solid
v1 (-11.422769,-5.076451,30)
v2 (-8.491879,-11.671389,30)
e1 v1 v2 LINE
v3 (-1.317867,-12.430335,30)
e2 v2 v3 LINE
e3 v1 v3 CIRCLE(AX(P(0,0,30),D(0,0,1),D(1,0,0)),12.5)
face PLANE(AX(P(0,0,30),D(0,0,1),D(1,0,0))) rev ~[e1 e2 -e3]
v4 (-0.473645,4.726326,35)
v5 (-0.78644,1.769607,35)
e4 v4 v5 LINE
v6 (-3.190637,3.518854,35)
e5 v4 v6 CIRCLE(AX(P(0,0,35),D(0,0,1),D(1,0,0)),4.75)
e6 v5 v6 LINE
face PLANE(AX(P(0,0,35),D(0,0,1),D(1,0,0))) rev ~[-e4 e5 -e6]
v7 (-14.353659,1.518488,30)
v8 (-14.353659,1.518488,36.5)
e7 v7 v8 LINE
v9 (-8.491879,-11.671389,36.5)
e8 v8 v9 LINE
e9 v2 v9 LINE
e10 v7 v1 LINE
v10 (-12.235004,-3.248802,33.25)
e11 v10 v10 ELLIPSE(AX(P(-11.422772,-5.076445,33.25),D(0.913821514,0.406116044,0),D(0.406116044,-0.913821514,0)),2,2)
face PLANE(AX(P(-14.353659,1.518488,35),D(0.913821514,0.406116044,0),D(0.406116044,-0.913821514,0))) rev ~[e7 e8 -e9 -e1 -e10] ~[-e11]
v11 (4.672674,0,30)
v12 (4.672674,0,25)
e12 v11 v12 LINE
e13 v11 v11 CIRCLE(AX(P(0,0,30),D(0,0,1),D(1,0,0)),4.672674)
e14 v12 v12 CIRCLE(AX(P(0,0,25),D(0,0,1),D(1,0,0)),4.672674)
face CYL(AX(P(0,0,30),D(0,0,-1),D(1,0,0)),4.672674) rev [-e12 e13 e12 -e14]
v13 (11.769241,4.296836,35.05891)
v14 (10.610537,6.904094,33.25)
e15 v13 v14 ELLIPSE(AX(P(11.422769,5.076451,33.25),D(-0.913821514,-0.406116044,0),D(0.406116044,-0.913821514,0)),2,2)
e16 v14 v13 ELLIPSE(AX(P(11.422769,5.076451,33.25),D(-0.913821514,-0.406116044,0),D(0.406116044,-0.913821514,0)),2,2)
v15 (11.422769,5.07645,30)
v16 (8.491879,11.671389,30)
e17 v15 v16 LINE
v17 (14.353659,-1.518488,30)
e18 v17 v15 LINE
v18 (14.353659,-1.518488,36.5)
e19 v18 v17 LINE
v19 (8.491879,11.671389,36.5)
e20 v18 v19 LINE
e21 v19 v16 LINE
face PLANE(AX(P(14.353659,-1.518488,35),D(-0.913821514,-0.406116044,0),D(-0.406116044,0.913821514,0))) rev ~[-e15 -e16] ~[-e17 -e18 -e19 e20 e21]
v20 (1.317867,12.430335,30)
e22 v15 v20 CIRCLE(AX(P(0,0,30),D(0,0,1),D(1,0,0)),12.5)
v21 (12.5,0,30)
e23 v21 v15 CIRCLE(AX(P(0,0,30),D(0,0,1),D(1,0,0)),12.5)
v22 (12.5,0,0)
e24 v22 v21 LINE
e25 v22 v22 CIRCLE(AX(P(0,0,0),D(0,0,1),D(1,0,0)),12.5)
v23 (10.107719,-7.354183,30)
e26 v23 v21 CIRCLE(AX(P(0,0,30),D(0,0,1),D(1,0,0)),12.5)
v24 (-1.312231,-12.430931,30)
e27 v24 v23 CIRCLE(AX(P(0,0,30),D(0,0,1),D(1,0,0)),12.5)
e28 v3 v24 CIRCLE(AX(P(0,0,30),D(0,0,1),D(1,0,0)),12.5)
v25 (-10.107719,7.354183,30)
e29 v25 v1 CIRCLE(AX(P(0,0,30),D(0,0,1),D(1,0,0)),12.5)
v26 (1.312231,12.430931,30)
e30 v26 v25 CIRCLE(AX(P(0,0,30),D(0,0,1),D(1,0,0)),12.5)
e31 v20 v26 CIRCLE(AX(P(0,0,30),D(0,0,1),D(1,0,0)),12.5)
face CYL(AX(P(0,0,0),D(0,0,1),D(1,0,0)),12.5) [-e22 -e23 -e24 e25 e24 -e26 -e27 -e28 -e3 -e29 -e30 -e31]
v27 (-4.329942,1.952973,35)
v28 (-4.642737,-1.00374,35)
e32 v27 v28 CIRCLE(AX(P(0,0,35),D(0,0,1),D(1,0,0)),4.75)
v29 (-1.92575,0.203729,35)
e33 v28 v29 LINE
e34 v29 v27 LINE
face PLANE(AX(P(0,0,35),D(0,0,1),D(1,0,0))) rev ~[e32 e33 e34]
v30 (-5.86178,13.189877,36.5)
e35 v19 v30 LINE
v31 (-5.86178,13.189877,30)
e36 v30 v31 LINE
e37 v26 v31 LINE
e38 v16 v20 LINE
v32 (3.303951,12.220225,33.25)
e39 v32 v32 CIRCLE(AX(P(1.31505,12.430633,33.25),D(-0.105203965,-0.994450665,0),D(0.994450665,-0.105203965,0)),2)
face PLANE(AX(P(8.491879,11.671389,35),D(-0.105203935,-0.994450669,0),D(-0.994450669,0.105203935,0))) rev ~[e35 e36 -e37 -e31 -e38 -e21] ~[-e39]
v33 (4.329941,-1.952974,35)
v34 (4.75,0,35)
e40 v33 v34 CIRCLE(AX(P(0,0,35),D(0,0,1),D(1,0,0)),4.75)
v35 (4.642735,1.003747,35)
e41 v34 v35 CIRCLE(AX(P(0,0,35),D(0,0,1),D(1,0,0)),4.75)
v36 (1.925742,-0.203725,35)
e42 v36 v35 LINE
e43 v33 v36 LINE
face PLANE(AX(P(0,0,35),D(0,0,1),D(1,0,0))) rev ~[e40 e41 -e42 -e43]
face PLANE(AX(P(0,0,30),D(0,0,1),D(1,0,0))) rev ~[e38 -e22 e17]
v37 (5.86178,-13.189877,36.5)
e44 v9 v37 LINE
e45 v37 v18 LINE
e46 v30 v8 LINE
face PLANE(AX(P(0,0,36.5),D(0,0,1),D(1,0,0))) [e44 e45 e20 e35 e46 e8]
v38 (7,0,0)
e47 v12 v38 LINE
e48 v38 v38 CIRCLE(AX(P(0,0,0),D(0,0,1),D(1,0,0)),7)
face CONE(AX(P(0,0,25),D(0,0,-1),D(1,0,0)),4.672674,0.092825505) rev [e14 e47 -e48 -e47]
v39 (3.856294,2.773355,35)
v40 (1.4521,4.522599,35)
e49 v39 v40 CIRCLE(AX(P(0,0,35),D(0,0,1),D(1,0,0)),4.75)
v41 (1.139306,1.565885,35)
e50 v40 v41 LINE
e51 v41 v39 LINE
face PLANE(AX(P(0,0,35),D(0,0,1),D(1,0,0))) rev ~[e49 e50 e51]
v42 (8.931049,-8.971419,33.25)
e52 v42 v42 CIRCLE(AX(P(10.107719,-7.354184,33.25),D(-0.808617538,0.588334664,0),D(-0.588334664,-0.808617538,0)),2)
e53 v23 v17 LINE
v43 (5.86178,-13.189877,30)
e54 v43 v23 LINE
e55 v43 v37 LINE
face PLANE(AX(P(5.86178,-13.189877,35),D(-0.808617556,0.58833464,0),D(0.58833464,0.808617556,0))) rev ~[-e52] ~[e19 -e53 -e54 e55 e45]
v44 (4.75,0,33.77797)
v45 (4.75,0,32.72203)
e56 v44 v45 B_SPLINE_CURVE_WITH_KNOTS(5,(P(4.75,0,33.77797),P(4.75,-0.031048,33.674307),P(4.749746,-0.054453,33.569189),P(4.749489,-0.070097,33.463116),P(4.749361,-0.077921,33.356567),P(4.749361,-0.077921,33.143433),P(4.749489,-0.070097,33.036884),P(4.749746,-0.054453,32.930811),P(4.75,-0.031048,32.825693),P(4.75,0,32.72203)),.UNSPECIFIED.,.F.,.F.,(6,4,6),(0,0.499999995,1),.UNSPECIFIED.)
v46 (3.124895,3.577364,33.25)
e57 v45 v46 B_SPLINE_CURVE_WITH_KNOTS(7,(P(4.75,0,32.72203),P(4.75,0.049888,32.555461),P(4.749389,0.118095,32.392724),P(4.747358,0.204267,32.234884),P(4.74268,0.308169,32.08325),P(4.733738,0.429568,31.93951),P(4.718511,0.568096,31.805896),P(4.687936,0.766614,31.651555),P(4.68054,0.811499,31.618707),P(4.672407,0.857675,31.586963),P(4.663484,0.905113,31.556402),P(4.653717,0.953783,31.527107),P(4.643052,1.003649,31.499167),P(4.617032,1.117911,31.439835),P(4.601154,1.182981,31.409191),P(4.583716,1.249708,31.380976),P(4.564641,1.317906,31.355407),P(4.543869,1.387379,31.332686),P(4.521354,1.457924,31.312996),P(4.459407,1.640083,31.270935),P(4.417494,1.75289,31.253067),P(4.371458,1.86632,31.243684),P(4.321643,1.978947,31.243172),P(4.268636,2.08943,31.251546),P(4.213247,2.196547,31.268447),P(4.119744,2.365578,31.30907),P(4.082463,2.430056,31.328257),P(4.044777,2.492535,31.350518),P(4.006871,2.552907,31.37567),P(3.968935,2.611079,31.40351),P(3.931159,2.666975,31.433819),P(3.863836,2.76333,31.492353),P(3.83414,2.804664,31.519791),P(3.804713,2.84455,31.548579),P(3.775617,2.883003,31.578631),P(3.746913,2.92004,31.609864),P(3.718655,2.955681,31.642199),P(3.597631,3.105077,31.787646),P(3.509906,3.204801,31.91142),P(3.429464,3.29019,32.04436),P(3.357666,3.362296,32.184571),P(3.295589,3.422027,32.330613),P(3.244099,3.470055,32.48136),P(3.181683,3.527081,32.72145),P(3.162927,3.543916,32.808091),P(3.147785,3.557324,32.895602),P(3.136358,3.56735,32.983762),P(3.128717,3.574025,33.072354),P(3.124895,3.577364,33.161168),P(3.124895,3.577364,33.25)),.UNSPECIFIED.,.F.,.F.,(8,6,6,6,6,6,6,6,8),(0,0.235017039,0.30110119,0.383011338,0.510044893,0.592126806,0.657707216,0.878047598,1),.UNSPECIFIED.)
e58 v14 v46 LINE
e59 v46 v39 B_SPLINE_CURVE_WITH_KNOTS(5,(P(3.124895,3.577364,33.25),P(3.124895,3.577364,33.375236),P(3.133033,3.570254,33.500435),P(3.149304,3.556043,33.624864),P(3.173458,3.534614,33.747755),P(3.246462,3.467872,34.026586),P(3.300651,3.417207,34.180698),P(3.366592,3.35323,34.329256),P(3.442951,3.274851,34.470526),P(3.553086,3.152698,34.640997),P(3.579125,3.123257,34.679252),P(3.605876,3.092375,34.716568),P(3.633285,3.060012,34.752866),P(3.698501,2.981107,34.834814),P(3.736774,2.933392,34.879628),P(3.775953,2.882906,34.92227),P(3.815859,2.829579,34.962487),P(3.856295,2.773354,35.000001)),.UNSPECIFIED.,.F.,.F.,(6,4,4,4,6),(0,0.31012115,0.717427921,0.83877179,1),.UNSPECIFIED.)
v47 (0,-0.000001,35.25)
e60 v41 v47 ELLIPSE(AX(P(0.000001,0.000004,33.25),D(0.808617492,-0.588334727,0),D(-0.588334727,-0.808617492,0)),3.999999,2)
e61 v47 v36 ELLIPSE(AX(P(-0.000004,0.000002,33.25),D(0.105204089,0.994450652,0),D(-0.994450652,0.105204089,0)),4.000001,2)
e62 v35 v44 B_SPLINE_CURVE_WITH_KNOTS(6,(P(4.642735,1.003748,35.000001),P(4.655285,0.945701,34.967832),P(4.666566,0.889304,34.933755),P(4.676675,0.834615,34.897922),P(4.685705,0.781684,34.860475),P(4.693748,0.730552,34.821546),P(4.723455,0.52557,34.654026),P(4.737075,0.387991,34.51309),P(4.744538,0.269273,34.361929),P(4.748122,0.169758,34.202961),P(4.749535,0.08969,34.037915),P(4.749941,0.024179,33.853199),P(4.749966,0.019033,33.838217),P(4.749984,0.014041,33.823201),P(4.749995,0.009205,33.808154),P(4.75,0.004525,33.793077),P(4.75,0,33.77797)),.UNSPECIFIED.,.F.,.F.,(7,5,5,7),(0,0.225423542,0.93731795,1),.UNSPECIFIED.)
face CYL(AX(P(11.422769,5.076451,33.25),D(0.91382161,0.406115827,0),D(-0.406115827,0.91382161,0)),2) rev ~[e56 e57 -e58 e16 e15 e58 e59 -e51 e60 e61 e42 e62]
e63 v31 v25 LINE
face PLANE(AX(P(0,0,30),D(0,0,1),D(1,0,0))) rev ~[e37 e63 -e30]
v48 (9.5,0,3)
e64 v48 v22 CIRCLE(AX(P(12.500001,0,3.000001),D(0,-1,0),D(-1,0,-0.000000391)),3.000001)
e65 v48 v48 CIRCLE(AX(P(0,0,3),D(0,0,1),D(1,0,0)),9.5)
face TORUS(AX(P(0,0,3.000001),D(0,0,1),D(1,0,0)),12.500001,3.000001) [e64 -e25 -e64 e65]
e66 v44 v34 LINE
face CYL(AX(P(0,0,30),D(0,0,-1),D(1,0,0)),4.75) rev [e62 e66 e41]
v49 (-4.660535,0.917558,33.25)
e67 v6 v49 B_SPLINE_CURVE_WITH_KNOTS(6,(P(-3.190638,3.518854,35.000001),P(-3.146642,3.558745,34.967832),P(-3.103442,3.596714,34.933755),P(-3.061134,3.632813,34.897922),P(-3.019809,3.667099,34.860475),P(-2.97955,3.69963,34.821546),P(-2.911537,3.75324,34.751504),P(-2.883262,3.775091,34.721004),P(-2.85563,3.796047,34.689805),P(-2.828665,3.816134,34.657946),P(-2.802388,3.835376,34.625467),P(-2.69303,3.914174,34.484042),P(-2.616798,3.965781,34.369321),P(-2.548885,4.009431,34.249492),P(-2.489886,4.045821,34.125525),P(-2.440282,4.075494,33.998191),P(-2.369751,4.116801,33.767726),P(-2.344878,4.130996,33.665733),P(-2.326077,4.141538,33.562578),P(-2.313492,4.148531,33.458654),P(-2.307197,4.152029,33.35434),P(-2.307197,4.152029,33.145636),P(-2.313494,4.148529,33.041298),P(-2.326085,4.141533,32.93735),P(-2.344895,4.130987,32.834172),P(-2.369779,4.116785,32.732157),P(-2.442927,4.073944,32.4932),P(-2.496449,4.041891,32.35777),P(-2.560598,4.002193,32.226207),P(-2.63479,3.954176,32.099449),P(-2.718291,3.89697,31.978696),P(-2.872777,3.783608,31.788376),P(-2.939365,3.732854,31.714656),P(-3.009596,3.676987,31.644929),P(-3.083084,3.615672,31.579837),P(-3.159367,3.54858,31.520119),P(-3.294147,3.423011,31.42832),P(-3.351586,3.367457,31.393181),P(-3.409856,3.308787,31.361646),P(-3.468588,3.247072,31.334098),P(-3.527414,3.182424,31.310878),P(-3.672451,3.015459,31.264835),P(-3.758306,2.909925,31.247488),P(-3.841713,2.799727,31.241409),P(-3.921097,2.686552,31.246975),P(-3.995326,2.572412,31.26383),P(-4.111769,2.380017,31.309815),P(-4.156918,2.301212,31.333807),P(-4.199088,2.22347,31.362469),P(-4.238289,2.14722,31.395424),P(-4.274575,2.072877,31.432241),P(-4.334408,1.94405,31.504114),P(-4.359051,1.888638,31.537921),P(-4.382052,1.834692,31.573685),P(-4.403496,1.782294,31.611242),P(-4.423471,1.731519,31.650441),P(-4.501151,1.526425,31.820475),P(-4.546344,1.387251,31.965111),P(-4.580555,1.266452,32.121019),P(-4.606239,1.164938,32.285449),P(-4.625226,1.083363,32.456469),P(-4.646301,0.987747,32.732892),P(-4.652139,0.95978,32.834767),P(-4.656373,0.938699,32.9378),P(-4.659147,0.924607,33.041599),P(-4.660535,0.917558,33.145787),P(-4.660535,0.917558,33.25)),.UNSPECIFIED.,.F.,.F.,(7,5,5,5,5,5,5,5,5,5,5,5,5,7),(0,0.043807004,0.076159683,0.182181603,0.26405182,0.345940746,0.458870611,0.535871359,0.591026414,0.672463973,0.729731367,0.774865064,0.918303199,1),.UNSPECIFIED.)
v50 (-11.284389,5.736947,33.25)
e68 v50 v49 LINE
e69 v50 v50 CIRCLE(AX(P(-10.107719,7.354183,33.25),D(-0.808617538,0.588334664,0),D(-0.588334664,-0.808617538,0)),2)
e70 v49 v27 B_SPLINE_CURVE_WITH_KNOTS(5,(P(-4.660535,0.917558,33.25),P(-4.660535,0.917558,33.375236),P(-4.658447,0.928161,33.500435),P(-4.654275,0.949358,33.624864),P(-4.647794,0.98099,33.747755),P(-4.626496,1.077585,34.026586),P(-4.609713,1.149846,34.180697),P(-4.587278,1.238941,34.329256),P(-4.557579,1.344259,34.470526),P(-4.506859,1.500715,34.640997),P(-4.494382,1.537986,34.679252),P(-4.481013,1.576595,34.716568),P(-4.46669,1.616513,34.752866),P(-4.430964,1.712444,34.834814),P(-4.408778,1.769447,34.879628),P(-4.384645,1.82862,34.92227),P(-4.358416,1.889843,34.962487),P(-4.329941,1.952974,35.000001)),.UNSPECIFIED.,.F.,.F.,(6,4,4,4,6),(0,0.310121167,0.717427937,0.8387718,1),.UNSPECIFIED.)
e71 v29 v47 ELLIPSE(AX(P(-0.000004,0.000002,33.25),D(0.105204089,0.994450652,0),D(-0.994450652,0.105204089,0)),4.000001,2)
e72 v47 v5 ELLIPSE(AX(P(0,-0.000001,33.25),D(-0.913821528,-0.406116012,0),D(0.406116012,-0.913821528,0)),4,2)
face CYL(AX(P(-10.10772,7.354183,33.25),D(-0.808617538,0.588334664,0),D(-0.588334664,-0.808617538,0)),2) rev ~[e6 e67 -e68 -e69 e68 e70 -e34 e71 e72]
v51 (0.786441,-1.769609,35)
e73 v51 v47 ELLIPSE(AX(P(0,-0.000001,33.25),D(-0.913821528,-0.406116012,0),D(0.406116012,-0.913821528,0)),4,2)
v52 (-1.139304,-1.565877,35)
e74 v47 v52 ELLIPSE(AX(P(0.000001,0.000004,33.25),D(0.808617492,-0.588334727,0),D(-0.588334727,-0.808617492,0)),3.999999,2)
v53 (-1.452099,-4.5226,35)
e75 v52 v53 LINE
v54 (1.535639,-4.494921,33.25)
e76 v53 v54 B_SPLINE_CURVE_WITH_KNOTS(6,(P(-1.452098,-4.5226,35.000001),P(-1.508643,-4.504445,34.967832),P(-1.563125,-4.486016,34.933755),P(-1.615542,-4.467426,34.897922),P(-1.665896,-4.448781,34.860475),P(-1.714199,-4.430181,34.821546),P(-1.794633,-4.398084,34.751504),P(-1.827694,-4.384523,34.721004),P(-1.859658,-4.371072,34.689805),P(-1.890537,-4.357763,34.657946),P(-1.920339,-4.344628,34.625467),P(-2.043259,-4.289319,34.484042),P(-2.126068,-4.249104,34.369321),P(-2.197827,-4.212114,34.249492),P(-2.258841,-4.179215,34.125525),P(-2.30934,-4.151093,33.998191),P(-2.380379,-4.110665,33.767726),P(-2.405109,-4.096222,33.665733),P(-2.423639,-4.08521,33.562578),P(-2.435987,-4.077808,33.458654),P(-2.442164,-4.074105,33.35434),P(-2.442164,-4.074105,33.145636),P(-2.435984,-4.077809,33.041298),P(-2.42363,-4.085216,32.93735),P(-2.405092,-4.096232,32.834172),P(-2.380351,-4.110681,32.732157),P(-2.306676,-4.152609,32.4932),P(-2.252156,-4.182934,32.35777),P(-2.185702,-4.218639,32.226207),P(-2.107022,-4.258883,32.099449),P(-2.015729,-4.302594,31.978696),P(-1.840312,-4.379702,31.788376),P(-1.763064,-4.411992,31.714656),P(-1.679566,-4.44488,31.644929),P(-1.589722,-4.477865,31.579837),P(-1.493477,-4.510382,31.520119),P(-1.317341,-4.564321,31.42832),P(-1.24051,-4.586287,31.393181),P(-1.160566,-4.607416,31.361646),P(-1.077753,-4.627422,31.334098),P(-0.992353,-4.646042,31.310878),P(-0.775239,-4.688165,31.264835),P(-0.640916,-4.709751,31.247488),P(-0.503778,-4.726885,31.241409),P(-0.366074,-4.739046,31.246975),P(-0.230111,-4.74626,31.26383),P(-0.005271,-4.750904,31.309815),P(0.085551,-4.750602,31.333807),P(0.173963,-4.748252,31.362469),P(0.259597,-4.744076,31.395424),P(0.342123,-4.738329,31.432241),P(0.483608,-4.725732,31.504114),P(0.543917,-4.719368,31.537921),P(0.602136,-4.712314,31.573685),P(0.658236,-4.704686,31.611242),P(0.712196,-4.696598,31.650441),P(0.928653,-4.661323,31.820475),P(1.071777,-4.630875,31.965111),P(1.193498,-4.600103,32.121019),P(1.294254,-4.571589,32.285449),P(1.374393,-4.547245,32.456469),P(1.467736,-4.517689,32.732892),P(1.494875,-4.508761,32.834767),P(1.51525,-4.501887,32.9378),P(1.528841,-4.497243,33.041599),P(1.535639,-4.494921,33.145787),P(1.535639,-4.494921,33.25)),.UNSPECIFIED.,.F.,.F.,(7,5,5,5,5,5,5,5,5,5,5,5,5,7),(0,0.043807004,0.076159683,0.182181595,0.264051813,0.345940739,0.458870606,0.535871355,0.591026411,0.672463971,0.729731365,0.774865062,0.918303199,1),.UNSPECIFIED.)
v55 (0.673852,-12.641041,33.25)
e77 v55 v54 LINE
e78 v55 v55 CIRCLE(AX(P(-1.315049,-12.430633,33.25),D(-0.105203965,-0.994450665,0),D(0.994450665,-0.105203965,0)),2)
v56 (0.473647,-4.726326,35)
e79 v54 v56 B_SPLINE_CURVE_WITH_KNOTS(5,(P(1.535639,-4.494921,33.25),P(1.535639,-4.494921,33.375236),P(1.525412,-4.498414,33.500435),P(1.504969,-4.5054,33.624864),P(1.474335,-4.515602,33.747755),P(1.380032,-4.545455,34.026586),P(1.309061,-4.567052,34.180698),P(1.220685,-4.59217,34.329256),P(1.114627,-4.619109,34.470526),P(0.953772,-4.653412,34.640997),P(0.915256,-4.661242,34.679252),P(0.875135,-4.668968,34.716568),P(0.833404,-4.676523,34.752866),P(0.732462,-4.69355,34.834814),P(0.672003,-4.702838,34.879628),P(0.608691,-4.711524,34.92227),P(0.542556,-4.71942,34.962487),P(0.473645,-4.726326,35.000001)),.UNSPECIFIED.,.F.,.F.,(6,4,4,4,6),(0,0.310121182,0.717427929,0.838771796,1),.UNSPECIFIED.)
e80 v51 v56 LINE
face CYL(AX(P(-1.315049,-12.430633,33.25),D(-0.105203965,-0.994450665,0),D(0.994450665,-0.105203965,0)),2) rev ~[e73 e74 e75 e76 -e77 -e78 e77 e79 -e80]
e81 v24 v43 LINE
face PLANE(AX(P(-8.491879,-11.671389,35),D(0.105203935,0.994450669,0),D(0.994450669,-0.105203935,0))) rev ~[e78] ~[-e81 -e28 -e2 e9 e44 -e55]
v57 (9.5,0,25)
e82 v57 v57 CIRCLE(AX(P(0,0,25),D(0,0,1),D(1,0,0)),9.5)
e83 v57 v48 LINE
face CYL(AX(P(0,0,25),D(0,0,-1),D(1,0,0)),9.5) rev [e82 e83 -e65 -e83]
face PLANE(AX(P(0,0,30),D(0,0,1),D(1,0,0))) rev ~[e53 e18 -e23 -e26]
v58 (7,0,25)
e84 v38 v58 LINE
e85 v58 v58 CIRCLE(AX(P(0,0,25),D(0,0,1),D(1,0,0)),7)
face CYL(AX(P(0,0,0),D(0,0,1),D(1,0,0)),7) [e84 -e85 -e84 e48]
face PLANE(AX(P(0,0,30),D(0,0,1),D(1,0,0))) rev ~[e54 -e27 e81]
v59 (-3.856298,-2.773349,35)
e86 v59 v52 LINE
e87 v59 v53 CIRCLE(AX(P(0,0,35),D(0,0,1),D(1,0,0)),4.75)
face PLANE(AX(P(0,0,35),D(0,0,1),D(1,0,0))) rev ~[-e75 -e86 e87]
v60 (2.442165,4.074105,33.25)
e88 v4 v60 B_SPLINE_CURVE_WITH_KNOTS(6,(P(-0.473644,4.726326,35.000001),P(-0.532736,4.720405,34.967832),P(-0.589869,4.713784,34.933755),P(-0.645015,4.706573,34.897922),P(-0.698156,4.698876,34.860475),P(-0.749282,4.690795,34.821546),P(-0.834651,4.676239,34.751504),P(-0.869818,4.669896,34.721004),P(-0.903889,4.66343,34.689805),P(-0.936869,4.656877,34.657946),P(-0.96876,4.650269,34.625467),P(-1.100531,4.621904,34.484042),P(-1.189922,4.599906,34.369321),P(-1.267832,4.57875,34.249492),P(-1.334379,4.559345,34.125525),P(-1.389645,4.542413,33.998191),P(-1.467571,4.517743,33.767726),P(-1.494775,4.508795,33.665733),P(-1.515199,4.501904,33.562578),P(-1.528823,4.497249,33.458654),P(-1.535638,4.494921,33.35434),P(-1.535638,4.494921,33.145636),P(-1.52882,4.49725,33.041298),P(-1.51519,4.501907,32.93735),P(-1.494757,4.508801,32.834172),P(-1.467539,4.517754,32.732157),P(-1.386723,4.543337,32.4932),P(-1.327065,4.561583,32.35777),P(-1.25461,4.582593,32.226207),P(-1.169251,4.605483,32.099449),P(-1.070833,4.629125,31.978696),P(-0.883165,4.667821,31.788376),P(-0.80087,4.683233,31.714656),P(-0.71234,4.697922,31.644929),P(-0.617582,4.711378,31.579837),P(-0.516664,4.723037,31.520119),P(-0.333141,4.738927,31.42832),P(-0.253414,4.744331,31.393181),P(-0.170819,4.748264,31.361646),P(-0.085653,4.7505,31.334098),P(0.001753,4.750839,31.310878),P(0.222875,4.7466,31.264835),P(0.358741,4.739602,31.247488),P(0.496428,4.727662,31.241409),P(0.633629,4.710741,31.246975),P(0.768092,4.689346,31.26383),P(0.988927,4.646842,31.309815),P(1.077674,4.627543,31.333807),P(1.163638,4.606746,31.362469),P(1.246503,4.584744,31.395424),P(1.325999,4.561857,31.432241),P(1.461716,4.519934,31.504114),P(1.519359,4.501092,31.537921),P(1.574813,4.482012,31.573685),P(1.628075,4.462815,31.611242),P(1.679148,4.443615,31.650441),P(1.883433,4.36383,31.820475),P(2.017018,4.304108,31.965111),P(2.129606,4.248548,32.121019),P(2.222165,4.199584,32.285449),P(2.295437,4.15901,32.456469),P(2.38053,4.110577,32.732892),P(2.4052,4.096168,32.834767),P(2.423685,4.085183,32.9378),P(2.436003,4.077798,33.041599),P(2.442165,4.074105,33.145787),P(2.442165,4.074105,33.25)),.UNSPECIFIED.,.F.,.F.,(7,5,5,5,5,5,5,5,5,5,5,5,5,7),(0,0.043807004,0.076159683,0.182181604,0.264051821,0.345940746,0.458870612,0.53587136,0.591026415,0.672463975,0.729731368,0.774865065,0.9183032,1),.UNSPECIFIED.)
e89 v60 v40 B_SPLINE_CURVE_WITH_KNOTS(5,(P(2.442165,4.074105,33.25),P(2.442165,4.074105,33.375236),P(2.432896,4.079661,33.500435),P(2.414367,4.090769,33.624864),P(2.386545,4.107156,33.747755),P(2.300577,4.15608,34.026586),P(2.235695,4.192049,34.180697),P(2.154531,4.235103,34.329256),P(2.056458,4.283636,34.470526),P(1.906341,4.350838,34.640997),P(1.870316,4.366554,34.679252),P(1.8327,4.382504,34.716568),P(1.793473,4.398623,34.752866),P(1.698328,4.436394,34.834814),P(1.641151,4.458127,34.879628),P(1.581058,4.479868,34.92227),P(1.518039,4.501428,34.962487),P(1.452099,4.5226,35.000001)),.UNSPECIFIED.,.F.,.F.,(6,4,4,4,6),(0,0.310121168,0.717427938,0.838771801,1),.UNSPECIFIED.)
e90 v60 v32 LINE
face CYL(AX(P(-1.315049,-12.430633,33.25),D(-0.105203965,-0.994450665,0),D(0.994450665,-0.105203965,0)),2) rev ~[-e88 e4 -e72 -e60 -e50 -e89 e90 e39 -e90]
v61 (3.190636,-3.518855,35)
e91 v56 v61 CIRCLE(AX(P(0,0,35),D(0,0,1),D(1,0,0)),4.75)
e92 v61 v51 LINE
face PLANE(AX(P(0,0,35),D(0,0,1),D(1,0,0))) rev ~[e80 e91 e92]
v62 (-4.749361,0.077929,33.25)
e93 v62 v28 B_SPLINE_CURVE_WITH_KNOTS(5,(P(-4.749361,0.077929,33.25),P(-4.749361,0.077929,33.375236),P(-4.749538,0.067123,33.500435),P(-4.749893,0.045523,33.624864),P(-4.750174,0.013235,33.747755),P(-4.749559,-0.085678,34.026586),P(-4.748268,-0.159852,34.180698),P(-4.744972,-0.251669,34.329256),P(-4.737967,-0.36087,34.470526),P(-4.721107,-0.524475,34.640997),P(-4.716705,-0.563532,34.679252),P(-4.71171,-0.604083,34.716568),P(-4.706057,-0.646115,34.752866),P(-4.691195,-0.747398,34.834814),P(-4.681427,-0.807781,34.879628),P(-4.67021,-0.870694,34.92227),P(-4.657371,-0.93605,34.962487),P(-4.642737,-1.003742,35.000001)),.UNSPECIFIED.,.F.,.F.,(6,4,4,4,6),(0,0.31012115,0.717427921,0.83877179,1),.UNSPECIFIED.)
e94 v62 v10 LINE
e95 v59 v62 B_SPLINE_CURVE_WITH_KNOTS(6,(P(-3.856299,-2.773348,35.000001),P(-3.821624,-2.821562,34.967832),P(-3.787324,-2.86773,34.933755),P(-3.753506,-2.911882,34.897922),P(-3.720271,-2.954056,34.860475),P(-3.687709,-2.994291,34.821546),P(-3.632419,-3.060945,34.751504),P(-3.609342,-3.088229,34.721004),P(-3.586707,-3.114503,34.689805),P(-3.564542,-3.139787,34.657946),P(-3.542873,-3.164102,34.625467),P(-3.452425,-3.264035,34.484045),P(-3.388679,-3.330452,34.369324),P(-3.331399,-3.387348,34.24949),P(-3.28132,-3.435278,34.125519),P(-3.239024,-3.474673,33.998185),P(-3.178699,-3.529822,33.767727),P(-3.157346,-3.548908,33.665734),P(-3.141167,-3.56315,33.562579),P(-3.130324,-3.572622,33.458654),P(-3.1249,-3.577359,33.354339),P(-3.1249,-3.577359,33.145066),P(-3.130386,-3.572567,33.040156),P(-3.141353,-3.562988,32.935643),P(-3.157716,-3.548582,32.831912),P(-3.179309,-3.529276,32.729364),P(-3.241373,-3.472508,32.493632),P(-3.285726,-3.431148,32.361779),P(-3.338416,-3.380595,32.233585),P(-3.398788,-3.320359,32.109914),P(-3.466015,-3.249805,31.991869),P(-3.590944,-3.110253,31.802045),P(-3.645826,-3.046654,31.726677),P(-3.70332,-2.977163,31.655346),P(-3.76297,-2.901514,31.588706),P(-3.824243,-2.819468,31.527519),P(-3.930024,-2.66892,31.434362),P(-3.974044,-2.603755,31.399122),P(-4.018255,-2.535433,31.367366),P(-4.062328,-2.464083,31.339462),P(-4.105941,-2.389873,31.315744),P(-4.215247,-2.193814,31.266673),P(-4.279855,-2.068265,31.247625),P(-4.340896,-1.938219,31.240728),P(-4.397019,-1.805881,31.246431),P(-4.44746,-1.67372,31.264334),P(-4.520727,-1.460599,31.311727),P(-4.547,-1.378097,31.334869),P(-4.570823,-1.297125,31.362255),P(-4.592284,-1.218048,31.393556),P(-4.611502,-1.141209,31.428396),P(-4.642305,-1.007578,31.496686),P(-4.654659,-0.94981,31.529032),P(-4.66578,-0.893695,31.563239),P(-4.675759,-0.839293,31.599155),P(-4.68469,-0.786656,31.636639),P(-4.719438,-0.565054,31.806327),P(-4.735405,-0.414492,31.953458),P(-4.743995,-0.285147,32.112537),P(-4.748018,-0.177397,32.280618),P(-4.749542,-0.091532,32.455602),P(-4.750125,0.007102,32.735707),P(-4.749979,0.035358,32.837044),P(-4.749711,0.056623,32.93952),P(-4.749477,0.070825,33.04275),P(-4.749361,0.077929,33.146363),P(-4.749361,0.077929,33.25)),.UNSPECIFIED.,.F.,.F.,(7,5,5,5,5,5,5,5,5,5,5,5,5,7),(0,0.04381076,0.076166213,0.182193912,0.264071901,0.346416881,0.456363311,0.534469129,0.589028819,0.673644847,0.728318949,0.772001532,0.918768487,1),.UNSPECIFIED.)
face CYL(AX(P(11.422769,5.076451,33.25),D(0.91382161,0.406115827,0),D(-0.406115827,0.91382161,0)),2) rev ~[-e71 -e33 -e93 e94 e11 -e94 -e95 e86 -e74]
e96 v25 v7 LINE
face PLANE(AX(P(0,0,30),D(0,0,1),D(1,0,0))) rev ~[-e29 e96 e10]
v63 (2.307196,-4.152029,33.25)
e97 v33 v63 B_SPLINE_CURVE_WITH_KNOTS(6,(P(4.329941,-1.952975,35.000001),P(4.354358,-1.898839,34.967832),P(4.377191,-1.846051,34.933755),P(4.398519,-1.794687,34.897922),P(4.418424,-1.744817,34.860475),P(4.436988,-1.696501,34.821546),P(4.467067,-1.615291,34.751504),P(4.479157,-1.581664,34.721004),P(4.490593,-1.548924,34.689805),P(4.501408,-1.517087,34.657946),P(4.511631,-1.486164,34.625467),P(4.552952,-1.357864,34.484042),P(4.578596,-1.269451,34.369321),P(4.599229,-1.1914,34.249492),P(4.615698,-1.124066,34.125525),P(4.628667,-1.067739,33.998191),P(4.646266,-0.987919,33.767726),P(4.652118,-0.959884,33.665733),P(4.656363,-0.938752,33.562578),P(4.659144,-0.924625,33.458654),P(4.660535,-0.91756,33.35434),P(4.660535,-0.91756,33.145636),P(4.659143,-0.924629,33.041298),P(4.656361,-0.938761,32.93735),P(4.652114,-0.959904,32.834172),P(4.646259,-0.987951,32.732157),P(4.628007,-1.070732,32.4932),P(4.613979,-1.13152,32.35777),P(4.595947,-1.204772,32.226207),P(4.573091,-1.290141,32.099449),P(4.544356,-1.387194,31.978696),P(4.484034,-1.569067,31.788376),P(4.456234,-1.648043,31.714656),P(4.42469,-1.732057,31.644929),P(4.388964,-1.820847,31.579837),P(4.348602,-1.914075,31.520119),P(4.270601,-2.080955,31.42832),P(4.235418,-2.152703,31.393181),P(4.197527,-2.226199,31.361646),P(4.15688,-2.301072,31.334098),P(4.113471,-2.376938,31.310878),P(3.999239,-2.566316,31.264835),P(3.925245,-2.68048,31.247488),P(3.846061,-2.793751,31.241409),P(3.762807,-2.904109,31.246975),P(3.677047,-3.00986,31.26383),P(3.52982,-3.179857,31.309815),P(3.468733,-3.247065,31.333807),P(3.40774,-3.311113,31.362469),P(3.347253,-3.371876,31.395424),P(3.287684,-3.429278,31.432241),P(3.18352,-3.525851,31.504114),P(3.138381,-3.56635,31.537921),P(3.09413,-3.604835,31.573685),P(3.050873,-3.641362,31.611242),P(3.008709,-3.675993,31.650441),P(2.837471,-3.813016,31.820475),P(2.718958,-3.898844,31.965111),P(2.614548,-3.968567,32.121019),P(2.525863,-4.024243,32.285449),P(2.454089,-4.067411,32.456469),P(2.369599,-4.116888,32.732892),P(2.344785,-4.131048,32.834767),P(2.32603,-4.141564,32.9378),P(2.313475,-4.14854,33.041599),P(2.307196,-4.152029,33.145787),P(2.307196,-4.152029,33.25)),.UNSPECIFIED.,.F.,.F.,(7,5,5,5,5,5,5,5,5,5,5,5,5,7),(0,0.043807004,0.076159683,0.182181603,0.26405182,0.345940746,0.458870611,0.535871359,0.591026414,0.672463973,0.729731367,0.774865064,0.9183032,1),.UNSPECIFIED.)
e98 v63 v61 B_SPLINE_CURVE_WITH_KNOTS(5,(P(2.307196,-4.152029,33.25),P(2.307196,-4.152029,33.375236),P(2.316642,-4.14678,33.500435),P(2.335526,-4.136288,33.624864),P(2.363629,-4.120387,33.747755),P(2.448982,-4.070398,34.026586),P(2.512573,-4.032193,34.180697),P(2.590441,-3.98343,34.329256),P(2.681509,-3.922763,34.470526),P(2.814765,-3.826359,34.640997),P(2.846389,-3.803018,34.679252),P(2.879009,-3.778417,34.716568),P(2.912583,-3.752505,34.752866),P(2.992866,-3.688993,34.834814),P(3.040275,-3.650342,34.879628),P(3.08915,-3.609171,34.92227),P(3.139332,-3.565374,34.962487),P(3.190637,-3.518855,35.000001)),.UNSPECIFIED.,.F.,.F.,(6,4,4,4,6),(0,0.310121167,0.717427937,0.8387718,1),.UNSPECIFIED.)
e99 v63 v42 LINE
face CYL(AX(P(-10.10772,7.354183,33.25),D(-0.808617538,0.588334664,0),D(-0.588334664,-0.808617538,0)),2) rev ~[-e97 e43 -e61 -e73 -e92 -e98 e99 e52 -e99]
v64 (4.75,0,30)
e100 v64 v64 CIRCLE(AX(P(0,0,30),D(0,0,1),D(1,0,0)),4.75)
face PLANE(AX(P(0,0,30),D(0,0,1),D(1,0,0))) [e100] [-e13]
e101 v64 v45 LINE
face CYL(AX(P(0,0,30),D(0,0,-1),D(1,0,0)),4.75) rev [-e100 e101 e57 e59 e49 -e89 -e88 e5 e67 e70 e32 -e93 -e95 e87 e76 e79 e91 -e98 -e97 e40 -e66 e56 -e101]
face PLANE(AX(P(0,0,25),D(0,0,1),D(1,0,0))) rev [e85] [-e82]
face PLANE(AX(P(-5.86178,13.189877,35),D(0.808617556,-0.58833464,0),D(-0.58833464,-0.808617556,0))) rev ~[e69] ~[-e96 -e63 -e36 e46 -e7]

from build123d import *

# Parameters (mm, degrees)
F2_R      = 4.75
F3_DEPTH  = 5
F5_DEPTH  = 1.5
F6_R      = 2
F7_DEPTH  = 30
F8_R      = 2
F9_DEPTH  = 30
F10_R     = 2
F11_DEPTH = 30


with BuildPart() as f1:
    # F0 (on Front) → F1 (revolve)
    with BuildSketch(Plane.XZ):
        with BuildLine():
            Line((9.5, 25), (9.5, 3))
            ThreePointArc((9.5, 3), (10.37868, 0.87868), (12.5, 0))
            Line((12.5, 0), (12.5, 25))
            Line((12.5, 25), (12.5, 30))
            Line((12.5, 30), (4.672674, 30))
            Line((4.672674, 30), (4.672674, 25))
            Line((4.672674, 25), (7, 0))
            Line((7, 0), (7, 25))
            Line((7, 25), (9.5, 25))
        make_face()
    revolve(axis=Axis((0, 0, 27.631196), (0, 0, 1)))

    # F2 (on face) → F3 (join)
    with BuildSketch(Plane.XY.offset(30)):
        Polygon((-8.491879, -11.671389), (5.86178, -13.189877), (14.353659, -1.518488), (8.491879, 11.671389), (-5.86178, 13.189877), (-14.353659, 1.518488), align=None)
        Circle(F2_R, mode=Mode.SUBTRACT)
    extrude(amount=F3_DEPTH)

    # F4 (on face) → F5 (join)
    with BuildSketch(Plane.XY.offset(35)):
        Polygon((-5.86178, 13.189877), (-14.353659, 1.518488), (-8.491879, -11.671389), (5.86178, -13.189877), (14.353659, -1.518488), (8.491879, 11.671389), align=None)
    extrude(amount=F5_DEPTH)

    # F6 (on face) → F7 (cut)
    with BuildSketch(Plane(origin=(-1.315049, -12.430633, 0), x_dir=(0.994451, -0.105204, 0), z_dir=(-0.105204, -0.994451, 0))):
        with Locations((0, 33.25)):
            Circle(F6_R)
    extrude(amount=-F7_DEPTH, mode=Mode.SUBTRACT)

    # F8 (on face) → F9 (cut)
    with BuildSketch(Plane(origin=(-10.10772, 7.354183, 0), x_dir=(-0.588335, -0.808618, 0), z_dir=(-0.808618, 0.588335, 0))):
        with Locations((0, 33.25)):
            Circle(F8_R)
    extrude(amount=-F9_DEPTH, mode=Mode.SUBTRACT)

    # F10 (on face) → F11 (cut)
    with BuildSketch(Plane(origin=(11.422769, 5.076451, 0), x_dir=(-0.406116, 0.913822, 0), z_dir=(0.913822, 0.406116, 0))):
        with Locations((0, 33.25)):
            Circle(F10_R)
    extrude(amount=-F11_DEPTH, mode=Mode.SUBTRACT)


solid = f1.part
